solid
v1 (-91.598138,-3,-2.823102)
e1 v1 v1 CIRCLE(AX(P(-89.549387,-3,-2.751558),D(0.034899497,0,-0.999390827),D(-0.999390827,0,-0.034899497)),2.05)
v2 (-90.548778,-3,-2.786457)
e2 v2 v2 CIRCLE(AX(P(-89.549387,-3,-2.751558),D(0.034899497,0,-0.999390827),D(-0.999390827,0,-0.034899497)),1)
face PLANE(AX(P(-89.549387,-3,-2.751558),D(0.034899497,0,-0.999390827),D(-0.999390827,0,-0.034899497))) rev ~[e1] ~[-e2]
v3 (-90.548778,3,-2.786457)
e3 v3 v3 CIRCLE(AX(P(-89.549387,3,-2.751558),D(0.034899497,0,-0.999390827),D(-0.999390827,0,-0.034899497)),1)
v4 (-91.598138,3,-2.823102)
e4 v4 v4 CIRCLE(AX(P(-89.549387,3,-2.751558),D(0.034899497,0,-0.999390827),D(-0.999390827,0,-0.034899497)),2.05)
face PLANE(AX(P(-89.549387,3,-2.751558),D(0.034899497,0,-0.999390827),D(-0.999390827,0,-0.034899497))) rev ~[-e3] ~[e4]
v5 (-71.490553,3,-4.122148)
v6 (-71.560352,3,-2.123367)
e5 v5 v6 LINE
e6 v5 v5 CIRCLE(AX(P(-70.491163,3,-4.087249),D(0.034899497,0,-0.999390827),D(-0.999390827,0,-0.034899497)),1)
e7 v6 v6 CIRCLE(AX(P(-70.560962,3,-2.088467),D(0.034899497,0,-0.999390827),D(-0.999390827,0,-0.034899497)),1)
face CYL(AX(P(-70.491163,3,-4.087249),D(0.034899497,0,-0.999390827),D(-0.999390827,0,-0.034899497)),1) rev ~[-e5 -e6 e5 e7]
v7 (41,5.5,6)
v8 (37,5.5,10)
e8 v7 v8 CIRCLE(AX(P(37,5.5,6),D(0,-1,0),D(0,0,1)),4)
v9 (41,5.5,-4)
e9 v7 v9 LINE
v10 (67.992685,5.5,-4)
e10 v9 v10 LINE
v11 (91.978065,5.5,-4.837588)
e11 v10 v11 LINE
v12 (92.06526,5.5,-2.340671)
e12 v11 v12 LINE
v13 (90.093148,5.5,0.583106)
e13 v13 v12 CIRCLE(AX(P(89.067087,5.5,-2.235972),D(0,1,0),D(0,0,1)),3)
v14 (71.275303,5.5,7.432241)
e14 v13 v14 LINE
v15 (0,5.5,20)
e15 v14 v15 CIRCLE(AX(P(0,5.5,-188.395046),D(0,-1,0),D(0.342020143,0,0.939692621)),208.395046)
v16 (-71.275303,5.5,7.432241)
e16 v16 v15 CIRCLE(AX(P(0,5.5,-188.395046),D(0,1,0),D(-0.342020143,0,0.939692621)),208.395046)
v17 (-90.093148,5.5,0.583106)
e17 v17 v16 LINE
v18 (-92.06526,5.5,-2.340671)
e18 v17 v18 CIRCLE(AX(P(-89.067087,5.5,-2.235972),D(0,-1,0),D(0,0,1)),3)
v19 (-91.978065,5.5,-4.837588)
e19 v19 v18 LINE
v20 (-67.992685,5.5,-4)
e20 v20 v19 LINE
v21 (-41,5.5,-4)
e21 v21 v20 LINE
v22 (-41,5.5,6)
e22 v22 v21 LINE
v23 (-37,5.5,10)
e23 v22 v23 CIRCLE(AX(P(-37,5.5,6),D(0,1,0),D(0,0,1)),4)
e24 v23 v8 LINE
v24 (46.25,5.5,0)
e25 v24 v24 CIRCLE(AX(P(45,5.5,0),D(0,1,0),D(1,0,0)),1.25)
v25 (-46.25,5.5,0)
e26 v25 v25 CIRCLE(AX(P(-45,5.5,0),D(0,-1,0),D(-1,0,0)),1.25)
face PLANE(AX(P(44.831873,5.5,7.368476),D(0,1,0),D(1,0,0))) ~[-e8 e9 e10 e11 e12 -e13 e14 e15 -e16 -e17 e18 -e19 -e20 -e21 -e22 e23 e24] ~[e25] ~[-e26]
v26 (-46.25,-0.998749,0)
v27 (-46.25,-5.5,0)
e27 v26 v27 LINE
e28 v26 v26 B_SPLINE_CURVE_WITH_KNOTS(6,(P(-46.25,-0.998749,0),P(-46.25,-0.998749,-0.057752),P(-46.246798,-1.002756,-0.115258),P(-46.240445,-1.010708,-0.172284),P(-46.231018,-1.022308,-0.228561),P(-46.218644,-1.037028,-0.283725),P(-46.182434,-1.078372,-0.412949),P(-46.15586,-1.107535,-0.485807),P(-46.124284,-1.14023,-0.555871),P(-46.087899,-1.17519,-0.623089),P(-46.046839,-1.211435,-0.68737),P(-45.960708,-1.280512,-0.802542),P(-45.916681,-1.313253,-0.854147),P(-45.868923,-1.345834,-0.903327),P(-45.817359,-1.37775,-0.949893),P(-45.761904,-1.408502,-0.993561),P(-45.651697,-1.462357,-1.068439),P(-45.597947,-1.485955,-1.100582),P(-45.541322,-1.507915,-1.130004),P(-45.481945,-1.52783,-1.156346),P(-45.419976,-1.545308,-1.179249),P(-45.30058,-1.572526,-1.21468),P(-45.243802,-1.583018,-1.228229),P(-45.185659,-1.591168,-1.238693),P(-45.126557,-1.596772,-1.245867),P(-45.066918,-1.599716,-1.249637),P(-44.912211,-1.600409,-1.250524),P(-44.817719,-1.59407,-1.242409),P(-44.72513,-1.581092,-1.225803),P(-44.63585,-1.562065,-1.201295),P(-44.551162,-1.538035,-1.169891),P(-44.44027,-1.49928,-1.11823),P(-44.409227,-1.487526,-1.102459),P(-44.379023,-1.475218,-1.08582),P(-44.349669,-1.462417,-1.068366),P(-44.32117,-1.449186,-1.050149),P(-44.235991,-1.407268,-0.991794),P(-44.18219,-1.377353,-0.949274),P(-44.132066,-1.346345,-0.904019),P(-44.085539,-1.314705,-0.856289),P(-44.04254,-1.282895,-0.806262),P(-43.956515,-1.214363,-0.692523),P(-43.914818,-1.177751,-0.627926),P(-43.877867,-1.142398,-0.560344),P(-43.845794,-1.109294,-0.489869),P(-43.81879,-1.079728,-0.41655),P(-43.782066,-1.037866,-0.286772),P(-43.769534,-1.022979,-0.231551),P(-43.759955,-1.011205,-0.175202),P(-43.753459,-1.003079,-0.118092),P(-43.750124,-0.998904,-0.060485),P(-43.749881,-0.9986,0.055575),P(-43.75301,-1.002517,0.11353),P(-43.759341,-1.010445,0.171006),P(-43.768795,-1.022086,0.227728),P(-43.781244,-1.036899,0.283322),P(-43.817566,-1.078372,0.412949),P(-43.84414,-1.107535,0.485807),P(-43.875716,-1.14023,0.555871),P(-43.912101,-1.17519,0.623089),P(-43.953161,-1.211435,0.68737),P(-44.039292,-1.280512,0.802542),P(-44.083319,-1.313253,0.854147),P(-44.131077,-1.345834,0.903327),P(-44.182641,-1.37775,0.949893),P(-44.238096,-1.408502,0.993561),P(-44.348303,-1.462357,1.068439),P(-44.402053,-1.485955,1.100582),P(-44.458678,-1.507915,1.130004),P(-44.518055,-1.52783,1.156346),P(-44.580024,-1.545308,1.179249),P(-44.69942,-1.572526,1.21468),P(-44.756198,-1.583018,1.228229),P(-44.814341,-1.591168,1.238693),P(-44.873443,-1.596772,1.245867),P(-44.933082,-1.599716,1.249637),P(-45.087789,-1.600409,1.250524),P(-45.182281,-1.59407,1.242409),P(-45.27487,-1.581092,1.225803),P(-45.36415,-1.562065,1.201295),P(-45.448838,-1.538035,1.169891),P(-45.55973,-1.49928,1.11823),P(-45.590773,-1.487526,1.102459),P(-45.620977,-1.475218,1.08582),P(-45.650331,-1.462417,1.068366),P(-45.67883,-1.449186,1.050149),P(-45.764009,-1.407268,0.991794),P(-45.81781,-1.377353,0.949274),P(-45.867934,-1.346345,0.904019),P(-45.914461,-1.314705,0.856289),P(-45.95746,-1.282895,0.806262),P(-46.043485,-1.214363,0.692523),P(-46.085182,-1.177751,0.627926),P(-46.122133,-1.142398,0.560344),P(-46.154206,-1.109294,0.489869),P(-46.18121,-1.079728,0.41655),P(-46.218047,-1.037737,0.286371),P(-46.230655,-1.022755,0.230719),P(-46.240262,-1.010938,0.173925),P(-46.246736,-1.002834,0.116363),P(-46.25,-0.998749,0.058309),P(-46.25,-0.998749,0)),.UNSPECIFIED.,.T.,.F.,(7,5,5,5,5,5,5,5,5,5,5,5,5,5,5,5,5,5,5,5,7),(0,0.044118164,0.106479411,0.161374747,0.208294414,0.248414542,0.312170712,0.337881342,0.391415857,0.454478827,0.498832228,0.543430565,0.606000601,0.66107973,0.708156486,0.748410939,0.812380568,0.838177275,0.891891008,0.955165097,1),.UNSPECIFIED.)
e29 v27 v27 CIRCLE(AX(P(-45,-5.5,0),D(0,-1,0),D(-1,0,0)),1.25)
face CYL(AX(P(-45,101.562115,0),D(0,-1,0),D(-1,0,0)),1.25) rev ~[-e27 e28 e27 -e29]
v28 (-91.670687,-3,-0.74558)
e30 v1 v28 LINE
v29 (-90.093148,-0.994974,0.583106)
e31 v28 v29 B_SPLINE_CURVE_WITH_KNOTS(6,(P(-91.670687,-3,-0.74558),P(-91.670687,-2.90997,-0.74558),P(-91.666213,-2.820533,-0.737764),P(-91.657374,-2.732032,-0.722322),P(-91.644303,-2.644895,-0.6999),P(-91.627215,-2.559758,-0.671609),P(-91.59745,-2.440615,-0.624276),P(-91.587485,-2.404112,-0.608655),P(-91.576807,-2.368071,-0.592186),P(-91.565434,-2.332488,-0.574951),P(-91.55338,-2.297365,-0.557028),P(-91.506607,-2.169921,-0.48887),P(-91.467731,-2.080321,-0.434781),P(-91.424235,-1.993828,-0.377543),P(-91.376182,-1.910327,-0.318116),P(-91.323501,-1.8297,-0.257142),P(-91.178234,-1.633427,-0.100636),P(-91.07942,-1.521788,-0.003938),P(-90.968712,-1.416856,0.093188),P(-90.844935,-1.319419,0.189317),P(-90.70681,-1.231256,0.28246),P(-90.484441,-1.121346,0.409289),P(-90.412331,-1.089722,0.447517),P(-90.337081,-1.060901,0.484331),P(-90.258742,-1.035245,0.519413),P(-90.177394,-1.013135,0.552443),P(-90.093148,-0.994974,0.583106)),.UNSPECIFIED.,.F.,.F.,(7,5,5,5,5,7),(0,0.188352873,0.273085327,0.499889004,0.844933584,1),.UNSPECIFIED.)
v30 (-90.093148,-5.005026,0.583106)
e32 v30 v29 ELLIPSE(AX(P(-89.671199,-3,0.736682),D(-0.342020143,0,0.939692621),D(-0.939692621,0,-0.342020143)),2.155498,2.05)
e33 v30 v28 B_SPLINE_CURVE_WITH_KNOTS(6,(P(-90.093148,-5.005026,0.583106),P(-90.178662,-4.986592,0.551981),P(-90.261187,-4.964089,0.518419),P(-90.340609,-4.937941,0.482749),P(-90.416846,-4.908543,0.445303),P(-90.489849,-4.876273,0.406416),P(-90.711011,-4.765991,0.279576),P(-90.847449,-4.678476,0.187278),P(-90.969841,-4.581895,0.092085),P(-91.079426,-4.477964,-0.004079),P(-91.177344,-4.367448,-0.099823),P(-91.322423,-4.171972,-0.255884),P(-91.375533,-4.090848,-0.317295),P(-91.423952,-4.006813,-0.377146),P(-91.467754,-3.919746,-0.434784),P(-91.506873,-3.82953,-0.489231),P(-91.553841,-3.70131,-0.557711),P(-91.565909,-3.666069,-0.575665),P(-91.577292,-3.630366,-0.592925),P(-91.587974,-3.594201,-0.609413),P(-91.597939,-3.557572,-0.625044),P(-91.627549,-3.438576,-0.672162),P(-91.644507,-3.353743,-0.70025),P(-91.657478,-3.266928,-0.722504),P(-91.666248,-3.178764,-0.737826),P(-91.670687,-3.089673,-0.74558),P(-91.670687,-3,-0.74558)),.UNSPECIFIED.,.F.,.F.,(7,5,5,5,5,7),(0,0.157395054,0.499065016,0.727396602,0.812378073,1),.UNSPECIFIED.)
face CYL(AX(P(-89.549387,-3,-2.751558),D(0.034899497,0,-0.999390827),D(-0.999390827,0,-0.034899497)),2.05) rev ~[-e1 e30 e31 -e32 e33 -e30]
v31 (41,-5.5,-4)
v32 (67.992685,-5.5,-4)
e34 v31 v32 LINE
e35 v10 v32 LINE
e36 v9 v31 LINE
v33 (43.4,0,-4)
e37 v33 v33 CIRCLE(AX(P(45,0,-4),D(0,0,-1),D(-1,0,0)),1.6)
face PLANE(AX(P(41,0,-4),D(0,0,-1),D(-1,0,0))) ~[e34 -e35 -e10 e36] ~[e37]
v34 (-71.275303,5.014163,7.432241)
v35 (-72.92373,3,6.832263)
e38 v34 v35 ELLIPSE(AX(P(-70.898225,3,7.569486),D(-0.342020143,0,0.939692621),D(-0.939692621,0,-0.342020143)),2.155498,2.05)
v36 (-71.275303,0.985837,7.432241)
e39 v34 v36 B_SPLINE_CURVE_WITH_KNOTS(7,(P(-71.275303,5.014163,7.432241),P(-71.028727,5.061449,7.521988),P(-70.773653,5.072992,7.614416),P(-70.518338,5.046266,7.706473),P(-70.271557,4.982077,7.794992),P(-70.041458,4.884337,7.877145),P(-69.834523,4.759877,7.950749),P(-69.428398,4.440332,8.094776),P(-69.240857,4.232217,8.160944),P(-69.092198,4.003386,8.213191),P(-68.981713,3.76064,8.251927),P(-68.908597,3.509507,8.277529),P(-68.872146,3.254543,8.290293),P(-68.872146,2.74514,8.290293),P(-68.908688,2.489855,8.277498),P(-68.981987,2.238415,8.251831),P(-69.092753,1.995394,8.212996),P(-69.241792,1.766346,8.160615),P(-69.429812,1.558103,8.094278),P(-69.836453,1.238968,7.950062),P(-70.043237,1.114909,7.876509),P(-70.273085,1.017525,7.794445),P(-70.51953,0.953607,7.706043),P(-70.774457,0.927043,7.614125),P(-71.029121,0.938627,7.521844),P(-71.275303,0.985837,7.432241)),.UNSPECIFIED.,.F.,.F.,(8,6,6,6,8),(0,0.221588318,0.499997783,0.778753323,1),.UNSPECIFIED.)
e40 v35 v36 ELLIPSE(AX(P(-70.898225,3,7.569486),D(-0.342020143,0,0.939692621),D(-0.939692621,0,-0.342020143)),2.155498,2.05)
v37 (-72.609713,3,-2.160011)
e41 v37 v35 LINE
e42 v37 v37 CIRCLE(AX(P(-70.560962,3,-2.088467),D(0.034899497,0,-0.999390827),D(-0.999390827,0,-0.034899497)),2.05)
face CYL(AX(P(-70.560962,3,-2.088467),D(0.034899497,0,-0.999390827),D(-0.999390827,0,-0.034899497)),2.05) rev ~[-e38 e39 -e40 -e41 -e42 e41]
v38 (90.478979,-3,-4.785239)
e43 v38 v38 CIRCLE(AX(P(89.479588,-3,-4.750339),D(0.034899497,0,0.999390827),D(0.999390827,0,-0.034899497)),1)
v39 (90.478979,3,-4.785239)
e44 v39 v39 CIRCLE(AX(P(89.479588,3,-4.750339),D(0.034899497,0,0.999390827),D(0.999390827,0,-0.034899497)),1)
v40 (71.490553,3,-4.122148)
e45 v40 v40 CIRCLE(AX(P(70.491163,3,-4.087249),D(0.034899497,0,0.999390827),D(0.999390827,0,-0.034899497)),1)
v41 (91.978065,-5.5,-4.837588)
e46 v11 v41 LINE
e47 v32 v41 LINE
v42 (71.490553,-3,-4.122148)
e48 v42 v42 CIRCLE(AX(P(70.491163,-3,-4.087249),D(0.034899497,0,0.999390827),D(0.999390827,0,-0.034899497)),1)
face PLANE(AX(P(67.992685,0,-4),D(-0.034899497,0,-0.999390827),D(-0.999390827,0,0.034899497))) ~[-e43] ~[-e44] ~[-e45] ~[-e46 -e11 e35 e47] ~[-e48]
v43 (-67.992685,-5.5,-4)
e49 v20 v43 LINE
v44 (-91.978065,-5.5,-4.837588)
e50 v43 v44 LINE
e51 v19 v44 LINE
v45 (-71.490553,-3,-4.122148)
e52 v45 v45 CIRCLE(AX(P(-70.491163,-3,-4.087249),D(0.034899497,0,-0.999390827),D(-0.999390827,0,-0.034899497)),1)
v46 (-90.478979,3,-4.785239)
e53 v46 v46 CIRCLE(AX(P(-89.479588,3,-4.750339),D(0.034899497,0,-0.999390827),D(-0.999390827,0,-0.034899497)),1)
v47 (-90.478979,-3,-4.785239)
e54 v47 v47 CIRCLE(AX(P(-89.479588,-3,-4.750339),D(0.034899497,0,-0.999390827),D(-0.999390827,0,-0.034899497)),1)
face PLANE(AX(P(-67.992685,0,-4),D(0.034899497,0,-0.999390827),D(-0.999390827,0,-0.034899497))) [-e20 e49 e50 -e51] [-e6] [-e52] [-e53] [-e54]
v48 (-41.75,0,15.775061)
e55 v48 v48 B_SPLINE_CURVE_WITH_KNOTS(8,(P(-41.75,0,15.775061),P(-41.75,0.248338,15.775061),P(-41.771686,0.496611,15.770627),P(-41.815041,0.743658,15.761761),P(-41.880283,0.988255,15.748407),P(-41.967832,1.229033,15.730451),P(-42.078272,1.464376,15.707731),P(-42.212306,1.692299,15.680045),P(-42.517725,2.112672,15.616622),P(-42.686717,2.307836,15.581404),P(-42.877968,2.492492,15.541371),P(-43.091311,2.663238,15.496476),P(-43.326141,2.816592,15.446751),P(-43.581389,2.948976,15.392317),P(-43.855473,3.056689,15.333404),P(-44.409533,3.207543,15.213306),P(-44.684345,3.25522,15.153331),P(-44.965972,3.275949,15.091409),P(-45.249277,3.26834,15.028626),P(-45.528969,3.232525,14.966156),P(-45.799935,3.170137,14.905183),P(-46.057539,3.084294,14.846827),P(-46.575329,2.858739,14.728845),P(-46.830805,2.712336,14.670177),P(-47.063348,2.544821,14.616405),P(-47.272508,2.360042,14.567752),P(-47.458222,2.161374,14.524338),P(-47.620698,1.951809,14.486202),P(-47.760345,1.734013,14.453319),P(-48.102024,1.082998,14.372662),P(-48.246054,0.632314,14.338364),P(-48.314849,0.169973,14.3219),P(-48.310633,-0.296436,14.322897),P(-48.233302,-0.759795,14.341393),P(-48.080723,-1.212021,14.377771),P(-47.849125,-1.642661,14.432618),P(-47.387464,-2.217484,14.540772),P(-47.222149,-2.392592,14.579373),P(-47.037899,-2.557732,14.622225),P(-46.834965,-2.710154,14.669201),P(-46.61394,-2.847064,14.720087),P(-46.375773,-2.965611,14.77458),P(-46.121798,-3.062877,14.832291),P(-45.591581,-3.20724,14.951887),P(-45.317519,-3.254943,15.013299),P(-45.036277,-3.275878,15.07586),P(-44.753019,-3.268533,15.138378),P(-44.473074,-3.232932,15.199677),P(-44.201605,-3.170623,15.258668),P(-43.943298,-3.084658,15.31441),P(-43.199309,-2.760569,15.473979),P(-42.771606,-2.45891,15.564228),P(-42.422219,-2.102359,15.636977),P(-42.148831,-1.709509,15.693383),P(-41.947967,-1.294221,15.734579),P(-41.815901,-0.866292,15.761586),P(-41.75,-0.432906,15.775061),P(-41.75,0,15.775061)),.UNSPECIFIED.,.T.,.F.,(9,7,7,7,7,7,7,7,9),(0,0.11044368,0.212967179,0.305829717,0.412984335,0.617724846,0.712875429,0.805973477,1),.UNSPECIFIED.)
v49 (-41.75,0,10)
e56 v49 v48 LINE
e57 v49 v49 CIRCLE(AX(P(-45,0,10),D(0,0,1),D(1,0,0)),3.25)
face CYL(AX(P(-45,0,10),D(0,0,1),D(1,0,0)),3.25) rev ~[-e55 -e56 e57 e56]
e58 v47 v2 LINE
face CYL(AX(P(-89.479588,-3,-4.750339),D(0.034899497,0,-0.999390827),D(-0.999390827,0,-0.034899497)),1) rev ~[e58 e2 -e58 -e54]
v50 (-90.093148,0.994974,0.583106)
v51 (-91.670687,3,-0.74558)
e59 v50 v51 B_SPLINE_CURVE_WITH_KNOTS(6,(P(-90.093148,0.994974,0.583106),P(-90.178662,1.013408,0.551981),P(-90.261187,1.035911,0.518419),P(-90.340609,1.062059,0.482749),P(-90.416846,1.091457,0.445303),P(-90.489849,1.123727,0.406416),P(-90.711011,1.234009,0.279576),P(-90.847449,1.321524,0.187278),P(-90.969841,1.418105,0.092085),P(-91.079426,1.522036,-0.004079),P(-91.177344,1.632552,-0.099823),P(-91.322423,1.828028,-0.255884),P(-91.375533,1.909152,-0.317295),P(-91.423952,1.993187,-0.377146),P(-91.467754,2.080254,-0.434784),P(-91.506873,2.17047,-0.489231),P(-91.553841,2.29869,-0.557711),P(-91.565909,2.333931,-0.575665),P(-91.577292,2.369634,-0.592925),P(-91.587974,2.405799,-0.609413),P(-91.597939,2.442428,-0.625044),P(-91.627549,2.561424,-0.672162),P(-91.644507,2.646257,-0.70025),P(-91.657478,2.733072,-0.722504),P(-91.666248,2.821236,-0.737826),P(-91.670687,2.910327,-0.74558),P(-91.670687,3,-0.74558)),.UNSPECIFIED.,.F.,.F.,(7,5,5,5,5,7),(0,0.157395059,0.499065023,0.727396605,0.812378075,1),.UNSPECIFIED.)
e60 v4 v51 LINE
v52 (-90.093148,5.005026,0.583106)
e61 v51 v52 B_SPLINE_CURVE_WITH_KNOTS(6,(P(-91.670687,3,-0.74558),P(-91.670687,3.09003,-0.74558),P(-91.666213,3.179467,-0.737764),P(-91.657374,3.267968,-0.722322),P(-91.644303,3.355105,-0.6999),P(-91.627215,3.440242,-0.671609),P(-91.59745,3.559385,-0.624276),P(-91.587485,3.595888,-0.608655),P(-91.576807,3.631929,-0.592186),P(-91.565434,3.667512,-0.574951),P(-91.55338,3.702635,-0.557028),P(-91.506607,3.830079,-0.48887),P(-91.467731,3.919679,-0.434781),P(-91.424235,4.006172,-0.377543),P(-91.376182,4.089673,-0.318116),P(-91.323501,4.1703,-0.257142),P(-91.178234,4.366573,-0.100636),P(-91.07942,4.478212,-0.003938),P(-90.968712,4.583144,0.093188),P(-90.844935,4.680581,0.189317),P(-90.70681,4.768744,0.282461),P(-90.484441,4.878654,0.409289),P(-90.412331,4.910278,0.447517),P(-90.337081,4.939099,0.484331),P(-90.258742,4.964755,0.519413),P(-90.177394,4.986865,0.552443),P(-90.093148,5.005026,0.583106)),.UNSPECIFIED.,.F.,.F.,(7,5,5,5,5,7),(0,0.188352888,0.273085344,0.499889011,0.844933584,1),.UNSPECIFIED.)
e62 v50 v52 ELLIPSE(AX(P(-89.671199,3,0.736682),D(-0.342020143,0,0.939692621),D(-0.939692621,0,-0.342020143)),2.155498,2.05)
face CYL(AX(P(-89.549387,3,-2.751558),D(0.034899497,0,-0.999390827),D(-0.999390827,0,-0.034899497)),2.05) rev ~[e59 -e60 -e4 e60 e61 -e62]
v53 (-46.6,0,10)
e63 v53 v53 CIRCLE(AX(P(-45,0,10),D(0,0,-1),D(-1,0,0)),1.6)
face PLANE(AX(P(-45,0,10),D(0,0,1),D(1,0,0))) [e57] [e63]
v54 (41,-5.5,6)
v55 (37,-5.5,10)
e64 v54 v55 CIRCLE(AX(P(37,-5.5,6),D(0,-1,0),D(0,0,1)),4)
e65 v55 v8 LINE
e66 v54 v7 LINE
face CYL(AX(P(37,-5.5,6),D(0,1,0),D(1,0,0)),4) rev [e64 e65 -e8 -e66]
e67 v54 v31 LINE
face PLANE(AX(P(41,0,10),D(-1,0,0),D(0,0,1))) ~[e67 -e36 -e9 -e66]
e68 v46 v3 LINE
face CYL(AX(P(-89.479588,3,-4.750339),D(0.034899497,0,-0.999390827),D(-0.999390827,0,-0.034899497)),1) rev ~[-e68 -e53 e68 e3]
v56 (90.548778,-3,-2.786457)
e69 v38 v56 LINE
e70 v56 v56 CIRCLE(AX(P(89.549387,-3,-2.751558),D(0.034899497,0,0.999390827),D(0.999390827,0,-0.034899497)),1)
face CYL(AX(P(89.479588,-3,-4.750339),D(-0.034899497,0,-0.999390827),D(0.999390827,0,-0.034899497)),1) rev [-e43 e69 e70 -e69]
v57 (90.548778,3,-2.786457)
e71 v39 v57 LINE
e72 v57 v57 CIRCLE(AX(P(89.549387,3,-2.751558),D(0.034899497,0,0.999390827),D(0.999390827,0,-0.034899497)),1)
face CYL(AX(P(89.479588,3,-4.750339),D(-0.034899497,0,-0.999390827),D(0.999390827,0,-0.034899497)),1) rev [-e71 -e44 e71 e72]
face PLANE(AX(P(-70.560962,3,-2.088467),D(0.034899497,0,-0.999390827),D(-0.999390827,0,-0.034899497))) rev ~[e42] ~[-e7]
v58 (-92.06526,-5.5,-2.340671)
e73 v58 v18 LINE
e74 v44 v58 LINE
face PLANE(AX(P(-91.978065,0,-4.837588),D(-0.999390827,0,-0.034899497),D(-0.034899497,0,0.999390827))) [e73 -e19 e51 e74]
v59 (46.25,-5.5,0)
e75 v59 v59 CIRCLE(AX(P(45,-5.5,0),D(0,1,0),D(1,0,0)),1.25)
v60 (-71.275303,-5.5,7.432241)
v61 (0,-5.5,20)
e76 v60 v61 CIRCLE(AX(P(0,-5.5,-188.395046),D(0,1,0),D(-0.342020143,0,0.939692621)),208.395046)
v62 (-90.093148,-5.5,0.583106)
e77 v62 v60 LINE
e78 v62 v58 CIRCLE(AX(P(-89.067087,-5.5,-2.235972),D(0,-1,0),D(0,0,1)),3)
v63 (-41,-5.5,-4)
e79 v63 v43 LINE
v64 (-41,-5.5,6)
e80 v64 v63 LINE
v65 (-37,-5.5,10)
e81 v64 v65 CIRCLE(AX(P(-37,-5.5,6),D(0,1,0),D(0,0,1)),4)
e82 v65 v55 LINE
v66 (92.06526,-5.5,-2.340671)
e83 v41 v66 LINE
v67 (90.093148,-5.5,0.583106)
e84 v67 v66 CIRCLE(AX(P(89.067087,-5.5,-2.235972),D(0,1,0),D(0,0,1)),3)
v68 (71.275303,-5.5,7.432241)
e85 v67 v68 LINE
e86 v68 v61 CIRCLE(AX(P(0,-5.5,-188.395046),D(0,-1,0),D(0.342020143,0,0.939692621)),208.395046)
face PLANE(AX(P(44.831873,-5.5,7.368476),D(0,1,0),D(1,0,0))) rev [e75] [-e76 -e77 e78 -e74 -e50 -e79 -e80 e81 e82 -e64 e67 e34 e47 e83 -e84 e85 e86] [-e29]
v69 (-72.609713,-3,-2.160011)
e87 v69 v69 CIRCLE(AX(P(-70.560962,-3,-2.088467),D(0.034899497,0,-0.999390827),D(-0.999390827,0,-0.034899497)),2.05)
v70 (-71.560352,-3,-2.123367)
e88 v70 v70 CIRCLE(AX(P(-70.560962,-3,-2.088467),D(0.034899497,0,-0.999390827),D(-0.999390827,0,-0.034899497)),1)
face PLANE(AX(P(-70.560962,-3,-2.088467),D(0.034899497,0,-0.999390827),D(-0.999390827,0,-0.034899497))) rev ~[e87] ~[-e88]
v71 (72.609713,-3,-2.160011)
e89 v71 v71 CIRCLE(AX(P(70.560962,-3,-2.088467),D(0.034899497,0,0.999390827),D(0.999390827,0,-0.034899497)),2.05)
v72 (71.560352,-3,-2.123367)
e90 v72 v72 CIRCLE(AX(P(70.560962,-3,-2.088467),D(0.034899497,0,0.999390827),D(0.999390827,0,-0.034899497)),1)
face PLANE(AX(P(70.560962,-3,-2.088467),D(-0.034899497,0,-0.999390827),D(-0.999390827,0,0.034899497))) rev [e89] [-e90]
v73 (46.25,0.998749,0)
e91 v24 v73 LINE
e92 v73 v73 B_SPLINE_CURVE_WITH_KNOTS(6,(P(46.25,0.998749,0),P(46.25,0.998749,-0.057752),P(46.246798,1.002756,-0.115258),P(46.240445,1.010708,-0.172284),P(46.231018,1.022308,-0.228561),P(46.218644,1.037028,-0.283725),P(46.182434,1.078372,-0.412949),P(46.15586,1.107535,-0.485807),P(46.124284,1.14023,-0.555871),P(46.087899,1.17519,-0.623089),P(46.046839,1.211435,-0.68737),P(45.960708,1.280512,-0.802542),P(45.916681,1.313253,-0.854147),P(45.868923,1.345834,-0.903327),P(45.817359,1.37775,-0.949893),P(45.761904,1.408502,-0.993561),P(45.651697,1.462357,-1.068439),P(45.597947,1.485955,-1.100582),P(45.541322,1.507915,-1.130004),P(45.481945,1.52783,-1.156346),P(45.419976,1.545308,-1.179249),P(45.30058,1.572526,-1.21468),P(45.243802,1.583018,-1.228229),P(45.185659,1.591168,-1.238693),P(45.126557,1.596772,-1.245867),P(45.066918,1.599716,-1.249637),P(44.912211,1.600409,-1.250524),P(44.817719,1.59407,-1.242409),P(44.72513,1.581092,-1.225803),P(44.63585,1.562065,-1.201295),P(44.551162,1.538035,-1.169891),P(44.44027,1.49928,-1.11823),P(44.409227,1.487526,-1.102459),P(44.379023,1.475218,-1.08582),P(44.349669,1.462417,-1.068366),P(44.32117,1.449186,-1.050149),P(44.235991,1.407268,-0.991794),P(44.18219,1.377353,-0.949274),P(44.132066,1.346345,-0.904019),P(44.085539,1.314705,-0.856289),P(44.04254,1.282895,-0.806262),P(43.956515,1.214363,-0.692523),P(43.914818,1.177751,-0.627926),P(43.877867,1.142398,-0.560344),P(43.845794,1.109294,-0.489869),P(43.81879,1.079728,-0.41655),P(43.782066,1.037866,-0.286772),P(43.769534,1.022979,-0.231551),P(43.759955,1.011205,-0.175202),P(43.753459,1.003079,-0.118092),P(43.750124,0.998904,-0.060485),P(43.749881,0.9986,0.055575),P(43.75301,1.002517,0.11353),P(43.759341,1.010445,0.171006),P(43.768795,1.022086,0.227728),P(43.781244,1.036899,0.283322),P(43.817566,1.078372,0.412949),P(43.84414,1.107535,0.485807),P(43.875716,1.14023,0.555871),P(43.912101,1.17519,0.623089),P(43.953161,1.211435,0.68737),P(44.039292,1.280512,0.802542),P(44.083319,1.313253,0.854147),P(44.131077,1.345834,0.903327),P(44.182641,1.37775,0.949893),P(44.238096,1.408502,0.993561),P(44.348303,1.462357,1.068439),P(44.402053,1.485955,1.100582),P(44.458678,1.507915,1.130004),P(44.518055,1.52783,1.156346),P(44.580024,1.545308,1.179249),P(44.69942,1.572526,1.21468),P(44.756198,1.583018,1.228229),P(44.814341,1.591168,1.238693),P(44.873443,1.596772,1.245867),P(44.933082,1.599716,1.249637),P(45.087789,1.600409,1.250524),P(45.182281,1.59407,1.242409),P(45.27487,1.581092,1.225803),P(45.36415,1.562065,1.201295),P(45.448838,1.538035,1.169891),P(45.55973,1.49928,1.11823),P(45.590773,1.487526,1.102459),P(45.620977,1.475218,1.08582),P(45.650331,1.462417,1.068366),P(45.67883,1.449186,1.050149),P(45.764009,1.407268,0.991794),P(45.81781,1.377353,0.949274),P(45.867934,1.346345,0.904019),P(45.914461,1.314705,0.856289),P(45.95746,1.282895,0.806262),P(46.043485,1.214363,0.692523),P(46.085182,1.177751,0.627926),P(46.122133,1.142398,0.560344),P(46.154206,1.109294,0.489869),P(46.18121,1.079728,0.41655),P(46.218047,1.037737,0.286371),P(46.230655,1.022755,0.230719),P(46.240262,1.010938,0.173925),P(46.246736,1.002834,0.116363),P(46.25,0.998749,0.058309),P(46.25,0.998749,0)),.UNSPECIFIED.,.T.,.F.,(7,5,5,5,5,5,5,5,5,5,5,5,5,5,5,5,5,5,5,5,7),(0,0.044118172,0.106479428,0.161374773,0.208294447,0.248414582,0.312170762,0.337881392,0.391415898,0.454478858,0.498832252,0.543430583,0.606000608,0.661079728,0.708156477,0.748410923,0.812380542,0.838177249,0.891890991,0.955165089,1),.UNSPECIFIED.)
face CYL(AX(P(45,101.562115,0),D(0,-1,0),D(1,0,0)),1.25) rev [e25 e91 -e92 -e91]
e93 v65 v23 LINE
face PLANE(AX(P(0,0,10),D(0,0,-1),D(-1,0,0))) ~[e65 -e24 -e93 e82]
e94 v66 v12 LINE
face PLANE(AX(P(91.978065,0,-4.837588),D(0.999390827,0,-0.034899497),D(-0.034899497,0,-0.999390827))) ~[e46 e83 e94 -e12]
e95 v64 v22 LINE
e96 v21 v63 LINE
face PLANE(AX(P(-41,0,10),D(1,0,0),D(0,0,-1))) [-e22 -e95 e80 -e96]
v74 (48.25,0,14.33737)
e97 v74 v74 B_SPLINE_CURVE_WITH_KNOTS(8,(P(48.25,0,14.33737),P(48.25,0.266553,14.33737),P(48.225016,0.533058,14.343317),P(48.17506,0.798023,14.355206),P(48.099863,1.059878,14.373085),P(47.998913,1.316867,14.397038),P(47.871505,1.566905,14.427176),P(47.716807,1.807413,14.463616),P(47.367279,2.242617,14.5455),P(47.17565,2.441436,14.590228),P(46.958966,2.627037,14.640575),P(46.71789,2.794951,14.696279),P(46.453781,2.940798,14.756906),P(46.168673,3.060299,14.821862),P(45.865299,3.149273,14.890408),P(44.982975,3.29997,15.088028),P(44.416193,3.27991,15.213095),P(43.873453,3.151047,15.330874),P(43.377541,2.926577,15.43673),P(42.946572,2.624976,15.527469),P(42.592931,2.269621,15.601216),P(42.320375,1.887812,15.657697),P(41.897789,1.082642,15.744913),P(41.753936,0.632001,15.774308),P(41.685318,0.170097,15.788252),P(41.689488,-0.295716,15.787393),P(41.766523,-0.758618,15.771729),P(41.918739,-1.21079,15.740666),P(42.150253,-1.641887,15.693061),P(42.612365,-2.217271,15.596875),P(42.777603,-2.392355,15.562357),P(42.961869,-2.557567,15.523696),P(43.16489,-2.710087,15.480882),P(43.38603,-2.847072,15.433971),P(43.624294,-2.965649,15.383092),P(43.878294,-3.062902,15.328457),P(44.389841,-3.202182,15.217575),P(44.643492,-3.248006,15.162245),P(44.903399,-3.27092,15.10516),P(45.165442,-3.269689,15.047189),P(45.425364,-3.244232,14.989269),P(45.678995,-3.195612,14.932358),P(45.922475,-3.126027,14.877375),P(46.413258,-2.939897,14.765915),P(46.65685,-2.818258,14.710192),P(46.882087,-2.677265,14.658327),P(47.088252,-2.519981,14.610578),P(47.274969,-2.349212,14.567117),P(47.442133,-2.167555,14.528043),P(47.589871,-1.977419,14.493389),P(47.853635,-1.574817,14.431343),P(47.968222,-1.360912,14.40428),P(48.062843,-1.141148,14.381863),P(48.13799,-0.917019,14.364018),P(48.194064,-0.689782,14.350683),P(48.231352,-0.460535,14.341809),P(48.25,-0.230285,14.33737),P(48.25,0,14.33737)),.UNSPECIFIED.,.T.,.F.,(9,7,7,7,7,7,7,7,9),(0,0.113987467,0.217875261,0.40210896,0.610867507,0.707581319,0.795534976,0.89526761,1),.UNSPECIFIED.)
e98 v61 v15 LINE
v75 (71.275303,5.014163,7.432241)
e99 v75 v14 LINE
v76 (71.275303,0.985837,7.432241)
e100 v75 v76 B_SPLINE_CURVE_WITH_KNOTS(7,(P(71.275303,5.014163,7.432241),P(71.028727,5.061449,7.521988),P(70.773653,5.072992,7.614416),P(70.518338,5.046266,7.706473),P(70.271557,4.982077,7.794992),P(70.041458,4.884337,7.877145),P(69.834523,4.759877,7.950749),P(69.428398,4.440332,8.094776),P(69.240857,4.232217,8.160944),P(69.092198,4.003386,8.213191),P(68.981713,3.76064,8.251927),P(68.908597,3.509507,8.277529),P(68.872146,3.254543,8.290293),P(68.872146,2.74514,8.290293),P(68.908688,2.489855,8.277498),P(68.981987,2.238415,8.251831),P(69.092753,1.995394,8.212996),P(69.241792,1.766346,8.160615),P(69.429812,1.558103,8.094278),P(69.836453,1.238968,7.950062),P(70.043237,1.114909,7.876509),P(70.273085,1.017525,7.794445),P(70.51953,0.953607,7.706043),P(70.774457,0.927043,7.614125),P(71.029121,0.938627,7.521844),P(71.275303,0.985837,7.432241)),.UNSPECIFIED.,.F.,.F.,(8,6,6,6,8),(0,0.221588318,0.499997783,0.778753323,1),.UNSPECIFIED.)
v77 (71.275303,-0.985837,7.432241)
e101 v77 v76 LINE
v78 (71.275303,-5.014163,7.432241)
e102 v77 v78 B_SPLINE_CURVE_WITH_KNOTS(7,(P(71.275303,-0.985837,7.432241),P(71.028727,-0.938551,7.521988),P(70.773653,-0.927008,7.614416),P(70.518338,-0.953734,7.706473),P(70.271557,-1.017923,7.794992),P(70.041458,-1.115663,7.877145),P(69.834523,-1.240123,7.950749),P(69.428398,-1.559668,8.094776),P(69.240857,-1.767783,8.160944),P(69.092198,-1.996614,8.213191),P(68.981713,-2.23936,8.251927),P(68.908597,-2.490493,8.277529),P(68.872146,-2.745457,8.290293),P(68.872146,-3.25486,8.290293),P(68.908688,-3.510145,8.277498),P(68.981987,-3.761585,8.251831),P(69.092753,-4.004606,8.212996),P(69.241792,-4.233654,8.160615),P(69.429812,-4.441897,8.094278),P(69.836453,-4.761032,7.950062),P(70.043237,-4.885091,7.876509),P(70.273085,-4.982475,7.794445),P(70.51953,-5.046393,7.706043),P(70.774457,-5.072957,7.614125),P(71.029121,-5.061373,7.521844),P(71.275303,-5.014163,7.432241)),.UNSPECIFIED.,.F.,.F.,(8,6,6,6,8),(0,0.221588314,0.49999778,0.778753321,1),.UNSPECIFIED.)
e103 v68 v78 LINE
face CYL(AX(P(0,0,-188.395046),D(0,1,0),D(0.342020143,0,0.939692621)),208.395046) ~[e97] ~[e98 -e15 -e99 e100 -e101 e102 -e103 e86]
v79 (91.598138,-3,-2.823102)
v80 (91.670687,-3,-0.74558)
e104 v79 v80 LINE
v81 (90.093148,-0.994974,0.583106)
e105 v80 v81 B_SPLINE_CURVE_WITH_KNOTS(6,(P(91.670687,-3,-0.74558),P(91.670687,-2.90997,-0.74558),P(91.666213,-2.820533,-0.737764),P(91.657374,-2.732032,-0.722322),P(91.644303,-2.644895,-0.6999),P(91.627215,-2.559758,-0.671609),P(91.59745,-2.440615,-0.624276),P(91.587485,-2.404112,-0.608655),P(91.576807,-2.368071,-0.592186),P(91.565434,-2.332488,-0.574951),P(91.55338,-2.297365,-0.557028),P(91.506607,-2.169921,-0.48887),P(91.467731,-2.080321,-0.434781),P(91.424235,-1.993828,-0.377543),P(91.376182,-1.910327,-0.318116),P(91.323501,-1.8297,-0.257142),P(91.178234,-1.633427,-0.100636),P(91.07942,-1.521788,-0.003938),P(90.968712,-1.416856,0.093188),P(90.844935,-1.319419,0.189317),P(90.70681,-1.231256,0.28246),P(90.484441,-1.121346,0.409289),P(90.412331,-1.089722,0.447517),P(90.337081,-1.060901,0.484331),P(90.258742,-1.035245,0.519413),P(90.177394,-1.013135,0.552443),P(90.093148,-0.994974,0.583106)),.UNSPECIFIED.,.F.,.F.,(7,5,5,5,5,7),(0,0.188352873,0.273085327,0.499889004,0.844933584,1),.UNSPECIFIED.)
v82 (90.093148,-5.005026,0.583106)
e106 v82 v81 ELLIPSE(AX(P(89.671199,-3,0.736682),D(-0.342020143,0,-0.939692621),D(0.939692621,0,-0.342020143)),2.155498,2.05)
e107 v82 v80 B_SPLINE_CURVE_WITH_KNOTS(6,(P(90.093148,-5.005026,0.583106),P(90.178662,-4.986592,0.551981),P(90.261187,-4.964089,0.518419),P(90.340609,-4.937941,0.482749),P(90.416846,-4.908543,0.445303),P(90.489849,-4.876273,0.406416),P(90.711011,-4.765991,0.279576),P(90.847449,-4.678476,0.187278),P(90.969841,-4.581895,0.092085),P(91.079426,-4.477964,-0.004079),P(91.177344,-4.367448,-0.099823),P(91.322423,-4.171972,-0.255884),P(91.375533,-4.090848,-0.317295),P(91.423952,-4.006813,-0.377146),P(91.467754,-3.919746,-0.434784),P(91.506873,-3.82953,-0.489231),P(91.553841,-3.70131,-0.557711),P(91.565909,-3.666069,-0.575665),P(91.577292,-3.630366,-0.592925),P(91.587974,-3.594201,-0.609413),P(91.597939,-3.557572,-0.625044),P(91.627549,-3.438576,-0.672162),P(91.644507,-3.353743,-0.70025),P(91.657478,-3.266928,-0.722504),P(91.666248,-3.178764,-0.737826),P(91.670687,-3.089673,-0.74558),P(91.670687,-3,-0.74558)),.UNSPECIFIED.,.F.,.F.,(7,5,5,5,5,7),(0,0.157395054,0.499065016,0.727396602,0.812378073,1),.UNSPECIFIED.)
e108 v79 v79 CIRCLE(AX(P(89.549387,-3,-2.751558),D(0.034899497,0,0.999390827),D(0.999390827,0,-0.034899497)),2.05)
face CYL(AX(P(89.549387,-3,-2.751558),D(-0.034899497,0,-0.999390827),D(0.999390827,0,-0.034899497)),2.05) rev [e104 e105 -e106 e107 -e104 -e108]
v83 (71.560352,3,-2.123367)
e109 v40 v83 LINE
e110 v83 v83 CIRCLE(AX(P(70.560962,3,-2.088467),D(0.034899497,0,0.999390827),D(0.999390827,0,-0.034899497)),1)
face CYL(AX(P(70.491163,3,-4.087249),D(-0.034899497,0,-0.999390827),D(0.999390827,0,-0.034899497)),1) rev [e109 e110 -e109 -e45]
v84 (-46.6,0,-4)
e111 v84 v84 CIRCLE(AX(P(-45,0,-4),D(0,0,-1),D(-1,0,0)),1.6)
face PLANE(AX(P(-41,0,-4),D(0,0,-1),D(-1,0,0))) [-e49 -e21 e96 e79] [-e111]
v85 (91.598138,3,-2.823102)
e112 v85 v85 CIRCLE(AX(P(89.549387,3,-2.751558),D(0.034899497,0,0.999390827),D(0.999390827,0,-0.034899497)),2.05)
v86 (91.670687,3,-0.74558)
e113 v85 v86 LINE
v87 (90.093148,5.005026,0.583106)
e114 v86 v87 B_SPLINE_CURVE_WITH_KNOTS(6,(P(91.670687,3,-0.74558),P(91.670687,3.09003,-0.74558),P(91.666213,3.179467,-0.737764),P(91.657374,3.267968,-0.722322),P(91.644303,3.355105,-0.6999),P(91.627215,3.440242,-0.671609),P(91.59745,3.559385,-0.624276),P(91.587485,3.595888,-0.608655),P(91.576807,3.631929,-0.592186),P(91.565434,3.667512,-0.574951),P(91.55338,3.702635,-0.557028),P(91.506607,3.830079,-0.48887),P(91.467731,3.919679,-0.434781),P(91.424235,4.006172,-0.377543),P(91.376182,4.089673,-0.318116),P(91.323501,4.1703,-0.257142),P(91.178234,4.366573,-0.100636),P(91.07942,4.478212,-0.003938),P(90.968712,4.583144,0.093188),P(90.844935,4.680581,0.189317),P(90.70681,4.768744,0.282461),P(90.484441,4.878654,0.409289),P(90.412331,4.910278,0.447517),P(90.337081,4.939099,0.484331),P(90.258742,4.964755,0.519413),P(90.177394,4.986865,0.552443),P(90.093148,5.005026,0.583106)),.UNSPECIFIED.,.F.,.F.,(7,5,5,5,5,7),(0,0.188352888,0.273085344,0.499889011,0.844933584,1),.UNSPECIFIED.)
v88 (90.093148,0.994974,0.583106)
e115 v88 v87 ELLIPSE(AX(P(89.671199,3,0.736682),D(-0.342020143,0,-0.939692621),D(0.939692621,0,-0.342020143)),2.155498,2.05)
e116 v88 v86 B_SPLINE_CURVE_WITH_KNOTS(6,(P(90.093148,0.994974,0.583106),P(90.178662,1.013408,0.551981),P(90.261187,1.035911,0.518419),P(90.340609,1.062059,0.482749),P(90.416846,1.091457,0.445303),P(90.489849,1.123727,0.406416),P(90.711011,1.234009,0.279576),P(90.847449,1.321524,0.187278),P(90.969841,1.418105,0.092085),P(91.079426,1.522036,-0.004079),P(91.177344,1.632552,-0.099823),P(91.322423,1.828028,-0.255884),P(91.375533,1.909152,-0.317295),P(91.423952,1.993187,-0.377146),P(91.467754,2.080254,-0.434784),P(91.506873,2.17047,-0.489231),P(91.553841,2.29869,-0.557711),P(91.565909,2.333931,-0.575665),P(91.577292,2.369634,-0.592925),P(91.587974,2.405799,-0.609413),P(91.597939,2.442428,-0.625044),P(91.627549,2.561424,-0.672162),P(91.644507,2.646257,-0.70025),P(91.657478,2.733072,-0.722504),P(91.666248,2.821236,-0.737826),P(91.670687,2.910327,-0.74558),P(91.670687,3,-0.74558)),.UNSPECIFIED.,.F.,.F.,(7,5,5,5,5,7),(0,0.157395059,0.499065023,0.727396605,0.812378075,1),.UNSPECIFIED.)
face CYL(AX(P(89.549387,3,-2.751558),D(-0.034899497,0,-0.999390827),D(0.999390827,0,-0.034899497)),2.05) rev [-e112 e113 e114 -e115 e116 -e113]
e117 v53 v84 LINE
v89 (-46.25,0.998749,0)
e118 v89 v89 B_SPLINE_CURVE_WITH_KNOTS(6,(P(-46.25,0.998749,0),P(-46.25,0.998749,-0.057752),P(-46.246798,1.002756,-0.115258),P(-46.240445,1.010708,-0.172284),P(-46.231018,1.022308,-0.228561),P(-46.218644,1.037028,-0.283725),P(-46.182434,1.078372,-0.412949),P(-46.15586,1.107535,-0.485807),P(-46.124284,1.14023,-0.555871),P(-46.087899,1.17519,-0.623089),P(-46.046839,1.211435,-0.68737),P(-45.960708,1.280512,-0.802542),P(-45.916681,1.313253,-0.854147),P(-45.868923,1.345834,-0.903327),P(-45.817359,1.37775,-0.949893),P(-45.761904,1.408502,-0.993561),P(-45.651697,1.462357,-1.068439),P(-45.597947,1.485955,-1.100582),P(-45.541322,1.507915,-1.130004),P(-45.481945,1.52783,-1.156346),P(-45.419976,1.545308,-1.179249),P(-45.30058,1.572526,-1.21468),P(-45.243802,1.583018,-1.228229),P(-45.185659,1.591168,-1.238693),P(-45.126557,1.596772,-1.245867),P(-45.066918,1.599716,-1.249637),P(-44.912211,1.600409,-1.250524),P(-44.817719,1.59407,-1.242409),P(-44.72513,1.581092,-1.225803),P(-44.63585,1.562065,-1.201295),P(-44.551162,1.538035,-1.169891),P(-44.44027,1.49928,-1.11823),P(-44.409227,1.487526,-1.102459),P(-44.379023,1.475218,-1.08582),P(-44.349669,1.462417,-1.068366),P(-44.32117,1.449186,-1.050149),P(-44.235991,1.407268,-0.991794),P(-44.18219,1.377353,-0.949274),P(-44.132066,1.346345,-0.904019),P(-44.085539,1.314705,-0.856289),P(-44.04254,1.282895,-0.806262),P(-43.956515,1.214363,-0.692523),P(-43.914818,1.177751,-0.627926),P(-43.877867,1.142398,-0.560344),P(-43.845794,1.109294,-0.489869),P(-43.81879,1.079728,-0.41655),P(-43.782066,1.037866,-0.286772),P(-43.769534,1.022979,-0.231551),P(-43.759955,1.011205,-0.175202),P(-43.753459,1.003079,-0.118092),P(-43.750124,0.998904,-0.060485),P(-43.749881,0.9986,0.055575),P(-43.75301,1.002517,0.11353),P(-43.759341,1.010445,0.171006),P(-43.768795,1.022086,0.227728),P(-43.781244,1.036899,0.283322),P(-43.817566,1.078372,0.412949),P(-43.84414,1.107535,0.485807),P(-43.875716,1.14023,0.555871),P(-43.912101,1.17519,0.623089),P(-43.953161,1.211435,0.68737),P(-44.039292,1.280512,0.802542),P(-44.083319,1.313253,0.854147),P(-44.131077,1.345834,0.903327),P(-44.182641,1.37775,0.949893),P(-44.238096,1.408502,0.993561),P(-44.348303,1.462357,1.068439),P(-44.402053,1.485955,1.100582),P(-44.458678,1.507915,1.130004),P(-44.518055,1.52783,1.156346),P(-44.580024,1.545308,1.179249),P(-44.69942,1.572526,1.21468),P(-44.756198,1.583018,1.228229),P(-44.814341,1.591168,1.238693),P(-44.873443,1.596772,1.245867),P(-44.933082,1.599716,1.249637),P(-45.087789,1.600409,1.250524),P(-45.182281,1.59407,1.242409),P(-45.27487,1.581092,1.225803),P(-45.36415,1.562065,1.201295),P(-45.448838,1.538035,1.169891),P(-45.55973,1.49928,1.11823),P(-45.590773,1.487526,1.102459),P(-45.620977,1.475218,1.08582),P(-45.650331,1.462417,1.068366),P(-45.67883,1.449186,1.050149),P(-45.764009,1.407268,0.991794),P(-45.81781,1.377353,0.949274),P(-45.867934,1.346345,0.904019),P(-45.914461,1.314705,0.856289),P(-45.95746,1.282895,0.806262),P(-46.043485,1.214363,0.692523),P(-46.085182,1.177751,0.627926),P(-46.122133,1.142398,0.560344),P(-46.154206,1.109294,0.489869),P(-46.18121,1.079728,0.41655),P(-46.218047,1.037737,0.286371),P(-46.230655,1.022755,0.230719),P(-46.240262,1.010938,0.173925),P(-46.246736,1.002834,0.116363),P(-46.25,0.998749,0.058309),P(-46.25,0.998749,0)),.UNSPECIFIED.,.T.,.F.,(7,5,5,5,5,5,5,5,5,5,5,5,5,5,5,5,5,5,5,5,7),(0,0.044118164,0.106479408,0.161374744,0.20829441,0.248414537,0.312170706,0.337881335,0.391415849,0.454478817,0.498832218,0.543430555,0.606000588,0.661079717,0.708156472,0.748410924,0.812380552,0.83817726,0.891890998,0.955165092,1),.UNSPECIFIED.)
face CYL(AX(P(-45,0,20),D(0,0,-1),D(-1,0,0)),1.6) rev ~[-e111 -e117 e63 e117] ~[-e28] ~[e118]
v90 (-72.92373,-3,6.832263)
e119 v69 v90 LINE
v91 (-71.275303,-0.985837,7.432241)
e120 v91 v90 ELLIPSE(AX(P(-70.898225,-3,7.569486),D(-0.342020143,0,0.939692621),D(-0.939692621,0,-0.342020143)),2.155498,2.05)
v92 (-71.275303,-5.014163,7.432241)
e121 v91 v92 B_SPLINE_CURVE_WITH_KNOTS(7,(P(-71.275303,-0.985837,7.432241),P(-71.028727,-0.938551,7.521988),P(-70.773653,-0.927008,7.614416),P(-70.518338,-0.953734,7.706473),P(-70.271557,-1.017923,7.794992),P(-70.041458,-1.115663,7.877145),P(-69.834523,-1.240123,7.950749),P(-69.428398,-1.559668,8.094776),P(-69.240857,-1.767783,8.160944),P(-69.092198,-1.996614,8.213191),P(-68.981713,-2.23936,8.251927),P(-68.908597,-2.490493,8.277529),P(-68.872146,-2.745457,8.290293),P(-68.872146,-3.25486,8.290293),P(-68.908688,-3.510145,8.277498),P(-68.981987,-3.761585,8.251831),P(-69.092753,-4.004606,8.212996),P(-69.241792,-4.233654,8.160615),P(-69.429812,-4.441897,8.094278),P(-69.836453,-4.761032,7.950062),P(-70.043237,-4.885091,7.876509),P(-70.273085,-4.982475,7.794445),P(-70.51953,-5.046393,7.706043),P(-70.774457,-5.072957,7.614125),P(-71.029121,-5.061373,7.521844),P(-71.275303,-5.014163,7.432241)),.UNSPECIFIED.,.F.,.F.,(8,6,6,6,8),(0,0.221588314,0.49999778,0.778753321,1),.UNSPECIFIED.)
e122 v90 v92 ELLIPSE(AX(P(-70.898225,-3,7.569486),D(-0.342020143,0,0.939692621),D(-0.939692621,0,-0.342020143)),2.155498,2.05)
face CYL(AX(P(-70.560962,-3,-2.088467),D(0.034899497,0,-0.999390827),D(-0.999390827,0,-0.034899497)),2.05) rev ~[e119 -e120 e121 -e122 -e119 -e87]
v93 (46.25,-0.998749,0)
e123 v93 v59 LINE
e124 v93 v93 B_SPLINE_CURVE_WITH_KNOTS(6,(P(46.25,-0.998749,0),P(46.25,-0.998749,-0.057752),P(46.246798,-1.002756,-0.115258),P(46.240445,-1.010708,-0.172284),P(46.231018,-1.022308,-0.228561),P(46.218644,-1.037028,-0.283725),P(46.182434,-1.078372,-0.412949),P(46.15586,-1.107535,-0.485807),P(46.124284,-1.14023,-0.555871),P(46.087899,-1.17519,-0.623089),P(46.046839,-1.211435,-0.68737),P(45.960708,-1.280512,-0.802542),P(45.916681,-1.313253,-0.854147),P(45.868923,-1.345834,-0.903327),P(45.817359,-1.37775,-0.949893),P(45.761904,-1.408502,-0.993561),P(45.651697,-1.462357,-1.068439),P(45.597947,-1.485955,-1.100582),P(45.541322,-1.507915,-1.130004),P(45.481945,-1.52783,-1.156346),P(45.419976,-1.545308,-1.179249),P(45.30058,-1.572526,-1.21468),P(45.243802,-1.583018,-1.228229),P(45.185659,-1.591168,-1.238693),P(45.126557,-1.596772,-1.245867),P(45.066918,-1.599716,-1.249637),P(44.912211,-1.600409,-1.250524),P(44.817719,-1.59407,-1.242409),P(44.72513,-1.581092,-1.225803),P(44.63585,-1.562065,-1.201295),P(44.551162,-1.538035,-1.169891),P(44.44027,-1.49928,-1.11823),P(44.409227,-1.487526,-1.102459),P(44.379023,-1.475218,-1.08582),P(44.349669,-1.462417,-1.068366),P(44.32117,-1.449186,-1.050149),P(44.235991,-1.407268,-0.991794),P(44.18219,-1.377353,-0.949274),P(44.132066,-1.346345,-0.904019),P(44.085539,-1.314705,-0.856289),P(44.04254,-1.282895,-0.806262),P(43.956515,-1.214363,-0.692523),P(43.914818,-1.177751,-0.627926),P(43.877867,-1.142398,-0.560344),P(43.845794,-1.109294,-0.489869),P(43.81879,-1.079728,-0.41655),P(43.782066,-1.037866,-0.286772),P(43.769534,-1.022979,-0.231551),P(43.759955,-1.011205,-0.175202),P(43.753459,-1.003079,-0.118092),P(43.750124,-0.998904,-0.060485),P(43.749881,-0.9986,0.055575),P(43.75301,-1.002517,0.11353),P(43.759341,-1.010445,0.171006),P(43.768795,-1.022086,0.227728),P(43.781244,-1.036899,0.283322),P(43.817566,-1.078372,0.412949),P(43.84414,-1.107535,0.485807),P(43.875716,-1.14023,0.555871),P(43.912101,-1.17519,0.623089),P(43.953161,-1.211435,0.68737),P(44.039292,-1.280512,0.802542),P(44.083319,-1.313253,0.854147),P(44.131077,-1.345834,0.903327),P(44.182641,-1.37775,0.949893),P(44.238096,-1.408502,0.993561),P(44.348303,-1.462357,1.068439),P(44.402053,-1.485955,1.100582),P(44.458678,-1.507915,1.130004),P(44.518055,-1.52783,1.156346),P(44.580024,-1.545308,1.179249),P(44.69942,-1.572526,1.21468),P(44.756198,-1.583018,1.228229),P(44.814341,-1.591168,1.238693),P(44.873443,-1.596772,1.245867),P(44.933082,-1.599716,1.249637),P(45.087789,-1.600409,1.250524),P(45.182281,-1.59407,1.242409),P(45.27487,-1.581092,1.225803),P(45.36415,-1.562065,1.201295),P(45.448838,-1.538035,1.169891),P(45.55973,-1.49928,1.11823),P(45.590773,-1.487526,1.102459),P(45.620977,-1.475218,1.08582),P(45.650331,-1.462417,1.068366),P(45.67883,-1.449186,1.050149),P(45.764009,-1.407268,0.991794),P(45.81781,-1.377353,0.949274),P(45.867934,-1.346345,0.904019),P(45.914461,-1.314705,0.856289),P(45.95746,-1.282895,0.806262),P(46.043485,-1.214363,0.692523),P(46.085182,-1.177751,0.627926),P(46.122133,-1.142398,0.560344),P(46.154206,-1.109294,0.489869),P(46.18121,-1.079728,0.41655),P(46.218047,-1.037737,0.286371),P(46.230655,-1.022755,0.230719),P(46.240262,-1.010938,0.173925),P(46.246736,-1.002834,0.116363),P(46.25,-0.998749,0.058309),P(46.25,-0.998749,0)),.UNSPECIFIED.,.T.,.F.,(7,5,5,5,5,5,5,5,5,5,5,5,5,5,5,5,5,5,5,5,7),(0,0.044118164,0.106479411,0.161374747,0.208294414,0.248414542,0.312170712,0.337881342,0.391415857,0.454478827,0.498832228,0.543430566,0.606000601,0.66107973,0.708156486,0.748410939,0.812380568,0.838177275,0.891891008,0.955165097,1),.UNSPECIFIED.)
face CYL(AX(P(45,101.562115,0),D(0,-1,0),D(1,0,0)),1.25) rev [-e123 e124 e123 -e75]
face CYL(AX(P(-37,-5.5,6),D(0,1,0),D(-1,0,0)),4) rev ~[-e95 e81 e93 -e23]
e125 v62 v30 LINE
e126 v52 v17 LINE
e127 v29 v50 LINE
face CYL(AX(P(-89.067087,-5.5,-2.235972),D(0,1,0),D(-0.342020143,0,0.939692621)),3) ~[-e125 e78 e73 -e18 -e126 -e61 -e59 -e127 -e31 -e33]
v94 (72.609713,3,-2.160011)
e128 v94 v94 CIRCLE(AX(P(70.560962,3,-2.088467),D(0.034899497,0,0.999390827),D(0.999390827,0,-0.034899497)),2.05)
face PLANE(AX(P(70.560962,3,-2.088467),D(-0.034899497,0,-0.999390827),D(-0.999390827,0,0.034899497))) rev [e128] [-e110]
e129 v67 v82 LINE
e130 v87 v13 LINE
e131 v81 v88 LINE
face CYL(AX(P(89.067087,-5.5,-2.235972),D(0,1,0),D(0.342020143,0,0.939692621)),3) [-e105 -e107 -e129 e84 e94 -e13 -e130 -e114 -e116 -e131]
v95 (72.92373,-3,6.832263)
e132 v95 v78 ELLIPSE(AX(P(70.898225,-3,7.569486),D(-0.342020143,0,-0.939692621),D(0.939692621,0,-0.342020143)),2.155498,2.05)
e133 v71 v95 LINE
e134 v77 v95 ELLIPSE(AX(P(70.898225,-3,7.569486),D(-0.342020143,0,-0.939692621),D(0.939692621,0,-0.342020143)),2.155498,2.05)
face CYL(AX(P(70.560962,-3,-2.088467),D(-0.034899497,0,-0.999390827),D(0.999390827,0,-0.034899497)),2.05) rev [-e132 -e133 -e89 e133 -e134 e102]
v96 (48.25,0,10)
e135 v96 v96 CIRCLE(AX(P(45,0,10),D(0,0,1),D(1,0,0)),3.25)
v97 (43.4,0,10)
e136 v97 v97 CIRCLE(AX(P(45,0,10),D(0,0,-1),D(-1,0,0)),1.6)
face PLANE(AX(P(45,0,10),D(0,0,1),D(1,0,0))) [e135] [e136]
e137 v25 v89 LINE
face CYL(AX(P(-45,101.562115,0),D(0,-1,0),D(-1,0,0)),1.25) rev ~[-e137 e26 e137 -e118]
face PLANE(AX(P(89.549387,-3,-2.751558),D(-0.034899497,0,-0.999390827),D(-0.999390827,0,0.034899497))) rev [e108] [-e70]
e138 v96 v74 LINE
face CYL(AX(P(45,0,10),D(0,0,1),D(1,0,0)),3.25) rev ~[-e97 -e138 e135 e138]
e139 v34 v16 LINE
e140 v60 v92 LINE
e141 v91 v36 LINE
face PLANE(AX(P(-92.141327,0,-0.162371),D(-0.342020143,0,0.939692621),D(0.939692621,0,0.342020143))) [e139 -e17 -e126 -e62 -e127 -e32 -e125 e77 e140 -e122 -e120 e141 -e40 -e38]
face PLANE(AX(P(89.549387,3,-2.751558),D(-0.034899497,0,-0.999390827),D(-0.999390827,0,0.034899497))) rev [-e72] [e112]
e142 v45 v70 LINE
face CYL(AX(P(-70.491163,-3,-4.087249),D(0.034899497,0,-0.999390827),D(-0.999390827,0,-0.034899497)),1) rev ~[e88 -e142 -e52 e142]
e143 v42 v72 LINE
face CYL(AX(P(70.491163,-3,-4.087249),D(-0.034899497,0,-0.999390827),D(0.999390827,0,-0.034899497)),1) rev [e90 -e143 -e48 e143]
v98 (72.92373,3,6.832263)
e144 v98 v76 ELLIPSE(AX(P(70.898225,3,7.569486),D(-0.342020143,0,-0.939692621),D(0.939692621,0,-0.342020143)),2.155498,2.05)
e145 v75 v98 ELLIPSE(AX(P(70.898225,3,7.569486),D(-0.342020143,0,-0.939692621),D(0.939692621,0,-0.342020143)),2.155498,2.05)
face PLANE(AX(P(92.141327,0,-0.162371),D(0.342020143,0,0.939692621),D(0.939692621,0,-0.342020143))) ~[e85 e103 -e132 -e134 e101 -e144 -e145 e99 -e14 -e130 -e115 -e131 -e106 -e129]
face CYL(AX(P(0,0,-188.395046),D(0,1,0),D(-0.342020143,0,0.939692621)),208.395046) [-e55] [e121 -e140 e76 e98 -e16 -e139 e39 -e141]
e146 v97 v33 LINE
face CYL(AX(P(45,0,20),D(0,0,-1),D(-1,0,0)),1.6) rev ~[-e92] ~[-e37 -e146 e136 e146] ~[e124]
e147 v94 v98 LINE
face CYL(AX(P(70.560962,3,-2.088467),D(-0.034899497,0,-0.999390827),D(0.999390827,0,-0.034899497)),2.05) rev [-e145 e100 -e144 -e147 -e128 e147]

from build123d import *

# Parameters (mm, degrees)
AUFSATZ_LINEAR_AUSTRAGEN1_DEPTH                      = 5.5
VERRUNDUNG1_R                                        = 4
M3_GEWINDEBOHRUNG1_D                                 = 2.5
VERRUNDUNG2_R                                        = 3
SCHNITT_LINEAR_START                                 = -2
SKIZZE7_R                                            = 2.05
SCHNITT_LINEAR_AUSTRAGEN1_DEPTH                      = 93.78726116
SKIZZE7_3_R                                          = 1
SCHNITT_LINEAR_AUSTRAGEN2_DEPTH                      = 95.787261285
STIRNSENKUNG_F_R_M3_ZYLINDERSCHRAUBE_MIT_D           = 3.2
STIRNSENKUNG_F_R_M3_ZYLINDERSCHRAUBE_MIT_CBORE_D     = 6.5
STIRNSENKUNG_F_R_M3_ZYLINDERSCHRAUBE_MIT_CBORE_DEPTH = 10


with BuildPart() as part:
    # Skizze1 → Aufsatz-Linear austragen1 (new, symmetric)
    with BuildSketch(Plane(origin=(0, 0, 0), x_dir=(1, 0, 0), z_dir=(0, 1, 0))):
        with BuildLine():
            Line((-91.978065317, 4.837587921), (-92.141327499, 0.162370724))
            Line((-92.141327499, 0.162370724), (-71.275303416, -7.43224095))
            ThreePointArc((-71.275303416, -7.43224095), (-36.187419929, -16.834010994), (0, -20))
            Line((0, -20), (0, -10))
            Line((0, -10), (-41, -10))
            Line((-41, -10), (-41, 4))
            Line((-41, 4), (-67.992685468, 4))
            Line((-67.992685468, 4), (-91.978065317, 4.837587921))
        make_face()
    extrude(amount=AUFSATZ_LINEAR_AUSTRAGEN1_DEPTH, both=True)

    # Verrundung1
    verrundung1_edges = [part.edges().sort_by_distance(p)[0] for p in [
        (-41, 0, 10),
    ]]
    fillet(verrundung1_edges, radius=VERRUNDUNG1_R)

    # M3 Gewindebohrung1 (through all)
    with Locations(Plane(origin=(-37.688737351, 5.5, 8.480848773), x_dir=(1, 0, 0), z_dir=(0, 1, 0))):
        with Locations((-7.311262649, 8.480848773)):
            Hole(M3_GEWINDEBOHRUNG1_D / 2)

    # Verrundung2
    verrundung2_edges = [part.edges().sort_by_distance(p)[0] for p in [
        (-92.141327499, 0, -0.162370724),
    ]]
    fillet(verrundung2_edges, radius=VERRUNDUNG2_R)

    # Skizze7 → Schnitt-Linear austragen1 (cut, through all)
    with BuildSketch(Plane(origin=(0.056699565, 0, -1.623663111), x_dir=(-0.9993908270190958, 0, -0.03489949670250085), z_dir=(0.03489949670250085, 0, -0.9993908270190958)).offset(SCHNITT_LINEAR_START)):
        with Locations((70.590864148, 3)):
            Circle(SKIZZE7_R)
        with Locations((89.590864148, 3)):
            Circle(SKIZZE7_R)
        with Locations((89.590864148, -3)):
            Circle(SKIZZE7_R)
        with Locations((70.590864148, -3)):
            Circle(SKIZZE7_R)
    extrude(amount=-SCHNITT_LINEAR_AUSTRAGEN1_DEPTH, mode=Mode.SUBTRACT)

    # Skizze7<3> → Schnitt-Linear austragen2 (cut, through all)
    with BuildSketch(Plane(origin=(0.056699565, 0, -1.623663111), x_dir=(-0.9993908270190958, 0, -0.03489949670250085), z_dir=(0.03489949670250085, 0, -0.9993908270190958))):
        with Locations((70.590864148, -3)):
            Circle(SKIZZE7_3_R)
        with Locations((89.590864148, -3)):
            Circle(SKIZZE7_3_R)
        with Locations((89.590864148, 3)):
            Circle(SKIZZE7_3_R)
        with Locations((70.590864148, 3)):
            Circle(SKIZZE7_3_R)
    extrude(amount=-SCHNITT_LINEAR_AUSTRAGEN2_DEPTH, mode=Mode.SUBTRACT)

    # Spiegeln3: part across plane


with BuildPart() as part_1:
    add(part.part)
    add(part.part.mirror(Plane(origin=(0, 0, 0), x_dir=(0, 0, 1), z_dir=(1, 0, 0))))

    # Stirnsenkung für  M3 Zylinderschraube mit Schlitz/Kreuzschlitz1 (through all)
    with Locations(Plane.XY.offset(20)):
        with Locations((-45, 0), (45, 0)):
            CounterBoreHole(STIRNSENKUNG_F_R_M3_ZYLINDERSCHRAUBE_MIT_D / 2, STIRNSENKUNG_F_R_M3_ZYLINDERSCHRAUBE_MIT_CBORE_D / 2, STIRNSENKUNG_F_R_M3_ZYLINDERSCHRAUBE_MIT_CBORE_DEPTH)


solid = part_1.part
